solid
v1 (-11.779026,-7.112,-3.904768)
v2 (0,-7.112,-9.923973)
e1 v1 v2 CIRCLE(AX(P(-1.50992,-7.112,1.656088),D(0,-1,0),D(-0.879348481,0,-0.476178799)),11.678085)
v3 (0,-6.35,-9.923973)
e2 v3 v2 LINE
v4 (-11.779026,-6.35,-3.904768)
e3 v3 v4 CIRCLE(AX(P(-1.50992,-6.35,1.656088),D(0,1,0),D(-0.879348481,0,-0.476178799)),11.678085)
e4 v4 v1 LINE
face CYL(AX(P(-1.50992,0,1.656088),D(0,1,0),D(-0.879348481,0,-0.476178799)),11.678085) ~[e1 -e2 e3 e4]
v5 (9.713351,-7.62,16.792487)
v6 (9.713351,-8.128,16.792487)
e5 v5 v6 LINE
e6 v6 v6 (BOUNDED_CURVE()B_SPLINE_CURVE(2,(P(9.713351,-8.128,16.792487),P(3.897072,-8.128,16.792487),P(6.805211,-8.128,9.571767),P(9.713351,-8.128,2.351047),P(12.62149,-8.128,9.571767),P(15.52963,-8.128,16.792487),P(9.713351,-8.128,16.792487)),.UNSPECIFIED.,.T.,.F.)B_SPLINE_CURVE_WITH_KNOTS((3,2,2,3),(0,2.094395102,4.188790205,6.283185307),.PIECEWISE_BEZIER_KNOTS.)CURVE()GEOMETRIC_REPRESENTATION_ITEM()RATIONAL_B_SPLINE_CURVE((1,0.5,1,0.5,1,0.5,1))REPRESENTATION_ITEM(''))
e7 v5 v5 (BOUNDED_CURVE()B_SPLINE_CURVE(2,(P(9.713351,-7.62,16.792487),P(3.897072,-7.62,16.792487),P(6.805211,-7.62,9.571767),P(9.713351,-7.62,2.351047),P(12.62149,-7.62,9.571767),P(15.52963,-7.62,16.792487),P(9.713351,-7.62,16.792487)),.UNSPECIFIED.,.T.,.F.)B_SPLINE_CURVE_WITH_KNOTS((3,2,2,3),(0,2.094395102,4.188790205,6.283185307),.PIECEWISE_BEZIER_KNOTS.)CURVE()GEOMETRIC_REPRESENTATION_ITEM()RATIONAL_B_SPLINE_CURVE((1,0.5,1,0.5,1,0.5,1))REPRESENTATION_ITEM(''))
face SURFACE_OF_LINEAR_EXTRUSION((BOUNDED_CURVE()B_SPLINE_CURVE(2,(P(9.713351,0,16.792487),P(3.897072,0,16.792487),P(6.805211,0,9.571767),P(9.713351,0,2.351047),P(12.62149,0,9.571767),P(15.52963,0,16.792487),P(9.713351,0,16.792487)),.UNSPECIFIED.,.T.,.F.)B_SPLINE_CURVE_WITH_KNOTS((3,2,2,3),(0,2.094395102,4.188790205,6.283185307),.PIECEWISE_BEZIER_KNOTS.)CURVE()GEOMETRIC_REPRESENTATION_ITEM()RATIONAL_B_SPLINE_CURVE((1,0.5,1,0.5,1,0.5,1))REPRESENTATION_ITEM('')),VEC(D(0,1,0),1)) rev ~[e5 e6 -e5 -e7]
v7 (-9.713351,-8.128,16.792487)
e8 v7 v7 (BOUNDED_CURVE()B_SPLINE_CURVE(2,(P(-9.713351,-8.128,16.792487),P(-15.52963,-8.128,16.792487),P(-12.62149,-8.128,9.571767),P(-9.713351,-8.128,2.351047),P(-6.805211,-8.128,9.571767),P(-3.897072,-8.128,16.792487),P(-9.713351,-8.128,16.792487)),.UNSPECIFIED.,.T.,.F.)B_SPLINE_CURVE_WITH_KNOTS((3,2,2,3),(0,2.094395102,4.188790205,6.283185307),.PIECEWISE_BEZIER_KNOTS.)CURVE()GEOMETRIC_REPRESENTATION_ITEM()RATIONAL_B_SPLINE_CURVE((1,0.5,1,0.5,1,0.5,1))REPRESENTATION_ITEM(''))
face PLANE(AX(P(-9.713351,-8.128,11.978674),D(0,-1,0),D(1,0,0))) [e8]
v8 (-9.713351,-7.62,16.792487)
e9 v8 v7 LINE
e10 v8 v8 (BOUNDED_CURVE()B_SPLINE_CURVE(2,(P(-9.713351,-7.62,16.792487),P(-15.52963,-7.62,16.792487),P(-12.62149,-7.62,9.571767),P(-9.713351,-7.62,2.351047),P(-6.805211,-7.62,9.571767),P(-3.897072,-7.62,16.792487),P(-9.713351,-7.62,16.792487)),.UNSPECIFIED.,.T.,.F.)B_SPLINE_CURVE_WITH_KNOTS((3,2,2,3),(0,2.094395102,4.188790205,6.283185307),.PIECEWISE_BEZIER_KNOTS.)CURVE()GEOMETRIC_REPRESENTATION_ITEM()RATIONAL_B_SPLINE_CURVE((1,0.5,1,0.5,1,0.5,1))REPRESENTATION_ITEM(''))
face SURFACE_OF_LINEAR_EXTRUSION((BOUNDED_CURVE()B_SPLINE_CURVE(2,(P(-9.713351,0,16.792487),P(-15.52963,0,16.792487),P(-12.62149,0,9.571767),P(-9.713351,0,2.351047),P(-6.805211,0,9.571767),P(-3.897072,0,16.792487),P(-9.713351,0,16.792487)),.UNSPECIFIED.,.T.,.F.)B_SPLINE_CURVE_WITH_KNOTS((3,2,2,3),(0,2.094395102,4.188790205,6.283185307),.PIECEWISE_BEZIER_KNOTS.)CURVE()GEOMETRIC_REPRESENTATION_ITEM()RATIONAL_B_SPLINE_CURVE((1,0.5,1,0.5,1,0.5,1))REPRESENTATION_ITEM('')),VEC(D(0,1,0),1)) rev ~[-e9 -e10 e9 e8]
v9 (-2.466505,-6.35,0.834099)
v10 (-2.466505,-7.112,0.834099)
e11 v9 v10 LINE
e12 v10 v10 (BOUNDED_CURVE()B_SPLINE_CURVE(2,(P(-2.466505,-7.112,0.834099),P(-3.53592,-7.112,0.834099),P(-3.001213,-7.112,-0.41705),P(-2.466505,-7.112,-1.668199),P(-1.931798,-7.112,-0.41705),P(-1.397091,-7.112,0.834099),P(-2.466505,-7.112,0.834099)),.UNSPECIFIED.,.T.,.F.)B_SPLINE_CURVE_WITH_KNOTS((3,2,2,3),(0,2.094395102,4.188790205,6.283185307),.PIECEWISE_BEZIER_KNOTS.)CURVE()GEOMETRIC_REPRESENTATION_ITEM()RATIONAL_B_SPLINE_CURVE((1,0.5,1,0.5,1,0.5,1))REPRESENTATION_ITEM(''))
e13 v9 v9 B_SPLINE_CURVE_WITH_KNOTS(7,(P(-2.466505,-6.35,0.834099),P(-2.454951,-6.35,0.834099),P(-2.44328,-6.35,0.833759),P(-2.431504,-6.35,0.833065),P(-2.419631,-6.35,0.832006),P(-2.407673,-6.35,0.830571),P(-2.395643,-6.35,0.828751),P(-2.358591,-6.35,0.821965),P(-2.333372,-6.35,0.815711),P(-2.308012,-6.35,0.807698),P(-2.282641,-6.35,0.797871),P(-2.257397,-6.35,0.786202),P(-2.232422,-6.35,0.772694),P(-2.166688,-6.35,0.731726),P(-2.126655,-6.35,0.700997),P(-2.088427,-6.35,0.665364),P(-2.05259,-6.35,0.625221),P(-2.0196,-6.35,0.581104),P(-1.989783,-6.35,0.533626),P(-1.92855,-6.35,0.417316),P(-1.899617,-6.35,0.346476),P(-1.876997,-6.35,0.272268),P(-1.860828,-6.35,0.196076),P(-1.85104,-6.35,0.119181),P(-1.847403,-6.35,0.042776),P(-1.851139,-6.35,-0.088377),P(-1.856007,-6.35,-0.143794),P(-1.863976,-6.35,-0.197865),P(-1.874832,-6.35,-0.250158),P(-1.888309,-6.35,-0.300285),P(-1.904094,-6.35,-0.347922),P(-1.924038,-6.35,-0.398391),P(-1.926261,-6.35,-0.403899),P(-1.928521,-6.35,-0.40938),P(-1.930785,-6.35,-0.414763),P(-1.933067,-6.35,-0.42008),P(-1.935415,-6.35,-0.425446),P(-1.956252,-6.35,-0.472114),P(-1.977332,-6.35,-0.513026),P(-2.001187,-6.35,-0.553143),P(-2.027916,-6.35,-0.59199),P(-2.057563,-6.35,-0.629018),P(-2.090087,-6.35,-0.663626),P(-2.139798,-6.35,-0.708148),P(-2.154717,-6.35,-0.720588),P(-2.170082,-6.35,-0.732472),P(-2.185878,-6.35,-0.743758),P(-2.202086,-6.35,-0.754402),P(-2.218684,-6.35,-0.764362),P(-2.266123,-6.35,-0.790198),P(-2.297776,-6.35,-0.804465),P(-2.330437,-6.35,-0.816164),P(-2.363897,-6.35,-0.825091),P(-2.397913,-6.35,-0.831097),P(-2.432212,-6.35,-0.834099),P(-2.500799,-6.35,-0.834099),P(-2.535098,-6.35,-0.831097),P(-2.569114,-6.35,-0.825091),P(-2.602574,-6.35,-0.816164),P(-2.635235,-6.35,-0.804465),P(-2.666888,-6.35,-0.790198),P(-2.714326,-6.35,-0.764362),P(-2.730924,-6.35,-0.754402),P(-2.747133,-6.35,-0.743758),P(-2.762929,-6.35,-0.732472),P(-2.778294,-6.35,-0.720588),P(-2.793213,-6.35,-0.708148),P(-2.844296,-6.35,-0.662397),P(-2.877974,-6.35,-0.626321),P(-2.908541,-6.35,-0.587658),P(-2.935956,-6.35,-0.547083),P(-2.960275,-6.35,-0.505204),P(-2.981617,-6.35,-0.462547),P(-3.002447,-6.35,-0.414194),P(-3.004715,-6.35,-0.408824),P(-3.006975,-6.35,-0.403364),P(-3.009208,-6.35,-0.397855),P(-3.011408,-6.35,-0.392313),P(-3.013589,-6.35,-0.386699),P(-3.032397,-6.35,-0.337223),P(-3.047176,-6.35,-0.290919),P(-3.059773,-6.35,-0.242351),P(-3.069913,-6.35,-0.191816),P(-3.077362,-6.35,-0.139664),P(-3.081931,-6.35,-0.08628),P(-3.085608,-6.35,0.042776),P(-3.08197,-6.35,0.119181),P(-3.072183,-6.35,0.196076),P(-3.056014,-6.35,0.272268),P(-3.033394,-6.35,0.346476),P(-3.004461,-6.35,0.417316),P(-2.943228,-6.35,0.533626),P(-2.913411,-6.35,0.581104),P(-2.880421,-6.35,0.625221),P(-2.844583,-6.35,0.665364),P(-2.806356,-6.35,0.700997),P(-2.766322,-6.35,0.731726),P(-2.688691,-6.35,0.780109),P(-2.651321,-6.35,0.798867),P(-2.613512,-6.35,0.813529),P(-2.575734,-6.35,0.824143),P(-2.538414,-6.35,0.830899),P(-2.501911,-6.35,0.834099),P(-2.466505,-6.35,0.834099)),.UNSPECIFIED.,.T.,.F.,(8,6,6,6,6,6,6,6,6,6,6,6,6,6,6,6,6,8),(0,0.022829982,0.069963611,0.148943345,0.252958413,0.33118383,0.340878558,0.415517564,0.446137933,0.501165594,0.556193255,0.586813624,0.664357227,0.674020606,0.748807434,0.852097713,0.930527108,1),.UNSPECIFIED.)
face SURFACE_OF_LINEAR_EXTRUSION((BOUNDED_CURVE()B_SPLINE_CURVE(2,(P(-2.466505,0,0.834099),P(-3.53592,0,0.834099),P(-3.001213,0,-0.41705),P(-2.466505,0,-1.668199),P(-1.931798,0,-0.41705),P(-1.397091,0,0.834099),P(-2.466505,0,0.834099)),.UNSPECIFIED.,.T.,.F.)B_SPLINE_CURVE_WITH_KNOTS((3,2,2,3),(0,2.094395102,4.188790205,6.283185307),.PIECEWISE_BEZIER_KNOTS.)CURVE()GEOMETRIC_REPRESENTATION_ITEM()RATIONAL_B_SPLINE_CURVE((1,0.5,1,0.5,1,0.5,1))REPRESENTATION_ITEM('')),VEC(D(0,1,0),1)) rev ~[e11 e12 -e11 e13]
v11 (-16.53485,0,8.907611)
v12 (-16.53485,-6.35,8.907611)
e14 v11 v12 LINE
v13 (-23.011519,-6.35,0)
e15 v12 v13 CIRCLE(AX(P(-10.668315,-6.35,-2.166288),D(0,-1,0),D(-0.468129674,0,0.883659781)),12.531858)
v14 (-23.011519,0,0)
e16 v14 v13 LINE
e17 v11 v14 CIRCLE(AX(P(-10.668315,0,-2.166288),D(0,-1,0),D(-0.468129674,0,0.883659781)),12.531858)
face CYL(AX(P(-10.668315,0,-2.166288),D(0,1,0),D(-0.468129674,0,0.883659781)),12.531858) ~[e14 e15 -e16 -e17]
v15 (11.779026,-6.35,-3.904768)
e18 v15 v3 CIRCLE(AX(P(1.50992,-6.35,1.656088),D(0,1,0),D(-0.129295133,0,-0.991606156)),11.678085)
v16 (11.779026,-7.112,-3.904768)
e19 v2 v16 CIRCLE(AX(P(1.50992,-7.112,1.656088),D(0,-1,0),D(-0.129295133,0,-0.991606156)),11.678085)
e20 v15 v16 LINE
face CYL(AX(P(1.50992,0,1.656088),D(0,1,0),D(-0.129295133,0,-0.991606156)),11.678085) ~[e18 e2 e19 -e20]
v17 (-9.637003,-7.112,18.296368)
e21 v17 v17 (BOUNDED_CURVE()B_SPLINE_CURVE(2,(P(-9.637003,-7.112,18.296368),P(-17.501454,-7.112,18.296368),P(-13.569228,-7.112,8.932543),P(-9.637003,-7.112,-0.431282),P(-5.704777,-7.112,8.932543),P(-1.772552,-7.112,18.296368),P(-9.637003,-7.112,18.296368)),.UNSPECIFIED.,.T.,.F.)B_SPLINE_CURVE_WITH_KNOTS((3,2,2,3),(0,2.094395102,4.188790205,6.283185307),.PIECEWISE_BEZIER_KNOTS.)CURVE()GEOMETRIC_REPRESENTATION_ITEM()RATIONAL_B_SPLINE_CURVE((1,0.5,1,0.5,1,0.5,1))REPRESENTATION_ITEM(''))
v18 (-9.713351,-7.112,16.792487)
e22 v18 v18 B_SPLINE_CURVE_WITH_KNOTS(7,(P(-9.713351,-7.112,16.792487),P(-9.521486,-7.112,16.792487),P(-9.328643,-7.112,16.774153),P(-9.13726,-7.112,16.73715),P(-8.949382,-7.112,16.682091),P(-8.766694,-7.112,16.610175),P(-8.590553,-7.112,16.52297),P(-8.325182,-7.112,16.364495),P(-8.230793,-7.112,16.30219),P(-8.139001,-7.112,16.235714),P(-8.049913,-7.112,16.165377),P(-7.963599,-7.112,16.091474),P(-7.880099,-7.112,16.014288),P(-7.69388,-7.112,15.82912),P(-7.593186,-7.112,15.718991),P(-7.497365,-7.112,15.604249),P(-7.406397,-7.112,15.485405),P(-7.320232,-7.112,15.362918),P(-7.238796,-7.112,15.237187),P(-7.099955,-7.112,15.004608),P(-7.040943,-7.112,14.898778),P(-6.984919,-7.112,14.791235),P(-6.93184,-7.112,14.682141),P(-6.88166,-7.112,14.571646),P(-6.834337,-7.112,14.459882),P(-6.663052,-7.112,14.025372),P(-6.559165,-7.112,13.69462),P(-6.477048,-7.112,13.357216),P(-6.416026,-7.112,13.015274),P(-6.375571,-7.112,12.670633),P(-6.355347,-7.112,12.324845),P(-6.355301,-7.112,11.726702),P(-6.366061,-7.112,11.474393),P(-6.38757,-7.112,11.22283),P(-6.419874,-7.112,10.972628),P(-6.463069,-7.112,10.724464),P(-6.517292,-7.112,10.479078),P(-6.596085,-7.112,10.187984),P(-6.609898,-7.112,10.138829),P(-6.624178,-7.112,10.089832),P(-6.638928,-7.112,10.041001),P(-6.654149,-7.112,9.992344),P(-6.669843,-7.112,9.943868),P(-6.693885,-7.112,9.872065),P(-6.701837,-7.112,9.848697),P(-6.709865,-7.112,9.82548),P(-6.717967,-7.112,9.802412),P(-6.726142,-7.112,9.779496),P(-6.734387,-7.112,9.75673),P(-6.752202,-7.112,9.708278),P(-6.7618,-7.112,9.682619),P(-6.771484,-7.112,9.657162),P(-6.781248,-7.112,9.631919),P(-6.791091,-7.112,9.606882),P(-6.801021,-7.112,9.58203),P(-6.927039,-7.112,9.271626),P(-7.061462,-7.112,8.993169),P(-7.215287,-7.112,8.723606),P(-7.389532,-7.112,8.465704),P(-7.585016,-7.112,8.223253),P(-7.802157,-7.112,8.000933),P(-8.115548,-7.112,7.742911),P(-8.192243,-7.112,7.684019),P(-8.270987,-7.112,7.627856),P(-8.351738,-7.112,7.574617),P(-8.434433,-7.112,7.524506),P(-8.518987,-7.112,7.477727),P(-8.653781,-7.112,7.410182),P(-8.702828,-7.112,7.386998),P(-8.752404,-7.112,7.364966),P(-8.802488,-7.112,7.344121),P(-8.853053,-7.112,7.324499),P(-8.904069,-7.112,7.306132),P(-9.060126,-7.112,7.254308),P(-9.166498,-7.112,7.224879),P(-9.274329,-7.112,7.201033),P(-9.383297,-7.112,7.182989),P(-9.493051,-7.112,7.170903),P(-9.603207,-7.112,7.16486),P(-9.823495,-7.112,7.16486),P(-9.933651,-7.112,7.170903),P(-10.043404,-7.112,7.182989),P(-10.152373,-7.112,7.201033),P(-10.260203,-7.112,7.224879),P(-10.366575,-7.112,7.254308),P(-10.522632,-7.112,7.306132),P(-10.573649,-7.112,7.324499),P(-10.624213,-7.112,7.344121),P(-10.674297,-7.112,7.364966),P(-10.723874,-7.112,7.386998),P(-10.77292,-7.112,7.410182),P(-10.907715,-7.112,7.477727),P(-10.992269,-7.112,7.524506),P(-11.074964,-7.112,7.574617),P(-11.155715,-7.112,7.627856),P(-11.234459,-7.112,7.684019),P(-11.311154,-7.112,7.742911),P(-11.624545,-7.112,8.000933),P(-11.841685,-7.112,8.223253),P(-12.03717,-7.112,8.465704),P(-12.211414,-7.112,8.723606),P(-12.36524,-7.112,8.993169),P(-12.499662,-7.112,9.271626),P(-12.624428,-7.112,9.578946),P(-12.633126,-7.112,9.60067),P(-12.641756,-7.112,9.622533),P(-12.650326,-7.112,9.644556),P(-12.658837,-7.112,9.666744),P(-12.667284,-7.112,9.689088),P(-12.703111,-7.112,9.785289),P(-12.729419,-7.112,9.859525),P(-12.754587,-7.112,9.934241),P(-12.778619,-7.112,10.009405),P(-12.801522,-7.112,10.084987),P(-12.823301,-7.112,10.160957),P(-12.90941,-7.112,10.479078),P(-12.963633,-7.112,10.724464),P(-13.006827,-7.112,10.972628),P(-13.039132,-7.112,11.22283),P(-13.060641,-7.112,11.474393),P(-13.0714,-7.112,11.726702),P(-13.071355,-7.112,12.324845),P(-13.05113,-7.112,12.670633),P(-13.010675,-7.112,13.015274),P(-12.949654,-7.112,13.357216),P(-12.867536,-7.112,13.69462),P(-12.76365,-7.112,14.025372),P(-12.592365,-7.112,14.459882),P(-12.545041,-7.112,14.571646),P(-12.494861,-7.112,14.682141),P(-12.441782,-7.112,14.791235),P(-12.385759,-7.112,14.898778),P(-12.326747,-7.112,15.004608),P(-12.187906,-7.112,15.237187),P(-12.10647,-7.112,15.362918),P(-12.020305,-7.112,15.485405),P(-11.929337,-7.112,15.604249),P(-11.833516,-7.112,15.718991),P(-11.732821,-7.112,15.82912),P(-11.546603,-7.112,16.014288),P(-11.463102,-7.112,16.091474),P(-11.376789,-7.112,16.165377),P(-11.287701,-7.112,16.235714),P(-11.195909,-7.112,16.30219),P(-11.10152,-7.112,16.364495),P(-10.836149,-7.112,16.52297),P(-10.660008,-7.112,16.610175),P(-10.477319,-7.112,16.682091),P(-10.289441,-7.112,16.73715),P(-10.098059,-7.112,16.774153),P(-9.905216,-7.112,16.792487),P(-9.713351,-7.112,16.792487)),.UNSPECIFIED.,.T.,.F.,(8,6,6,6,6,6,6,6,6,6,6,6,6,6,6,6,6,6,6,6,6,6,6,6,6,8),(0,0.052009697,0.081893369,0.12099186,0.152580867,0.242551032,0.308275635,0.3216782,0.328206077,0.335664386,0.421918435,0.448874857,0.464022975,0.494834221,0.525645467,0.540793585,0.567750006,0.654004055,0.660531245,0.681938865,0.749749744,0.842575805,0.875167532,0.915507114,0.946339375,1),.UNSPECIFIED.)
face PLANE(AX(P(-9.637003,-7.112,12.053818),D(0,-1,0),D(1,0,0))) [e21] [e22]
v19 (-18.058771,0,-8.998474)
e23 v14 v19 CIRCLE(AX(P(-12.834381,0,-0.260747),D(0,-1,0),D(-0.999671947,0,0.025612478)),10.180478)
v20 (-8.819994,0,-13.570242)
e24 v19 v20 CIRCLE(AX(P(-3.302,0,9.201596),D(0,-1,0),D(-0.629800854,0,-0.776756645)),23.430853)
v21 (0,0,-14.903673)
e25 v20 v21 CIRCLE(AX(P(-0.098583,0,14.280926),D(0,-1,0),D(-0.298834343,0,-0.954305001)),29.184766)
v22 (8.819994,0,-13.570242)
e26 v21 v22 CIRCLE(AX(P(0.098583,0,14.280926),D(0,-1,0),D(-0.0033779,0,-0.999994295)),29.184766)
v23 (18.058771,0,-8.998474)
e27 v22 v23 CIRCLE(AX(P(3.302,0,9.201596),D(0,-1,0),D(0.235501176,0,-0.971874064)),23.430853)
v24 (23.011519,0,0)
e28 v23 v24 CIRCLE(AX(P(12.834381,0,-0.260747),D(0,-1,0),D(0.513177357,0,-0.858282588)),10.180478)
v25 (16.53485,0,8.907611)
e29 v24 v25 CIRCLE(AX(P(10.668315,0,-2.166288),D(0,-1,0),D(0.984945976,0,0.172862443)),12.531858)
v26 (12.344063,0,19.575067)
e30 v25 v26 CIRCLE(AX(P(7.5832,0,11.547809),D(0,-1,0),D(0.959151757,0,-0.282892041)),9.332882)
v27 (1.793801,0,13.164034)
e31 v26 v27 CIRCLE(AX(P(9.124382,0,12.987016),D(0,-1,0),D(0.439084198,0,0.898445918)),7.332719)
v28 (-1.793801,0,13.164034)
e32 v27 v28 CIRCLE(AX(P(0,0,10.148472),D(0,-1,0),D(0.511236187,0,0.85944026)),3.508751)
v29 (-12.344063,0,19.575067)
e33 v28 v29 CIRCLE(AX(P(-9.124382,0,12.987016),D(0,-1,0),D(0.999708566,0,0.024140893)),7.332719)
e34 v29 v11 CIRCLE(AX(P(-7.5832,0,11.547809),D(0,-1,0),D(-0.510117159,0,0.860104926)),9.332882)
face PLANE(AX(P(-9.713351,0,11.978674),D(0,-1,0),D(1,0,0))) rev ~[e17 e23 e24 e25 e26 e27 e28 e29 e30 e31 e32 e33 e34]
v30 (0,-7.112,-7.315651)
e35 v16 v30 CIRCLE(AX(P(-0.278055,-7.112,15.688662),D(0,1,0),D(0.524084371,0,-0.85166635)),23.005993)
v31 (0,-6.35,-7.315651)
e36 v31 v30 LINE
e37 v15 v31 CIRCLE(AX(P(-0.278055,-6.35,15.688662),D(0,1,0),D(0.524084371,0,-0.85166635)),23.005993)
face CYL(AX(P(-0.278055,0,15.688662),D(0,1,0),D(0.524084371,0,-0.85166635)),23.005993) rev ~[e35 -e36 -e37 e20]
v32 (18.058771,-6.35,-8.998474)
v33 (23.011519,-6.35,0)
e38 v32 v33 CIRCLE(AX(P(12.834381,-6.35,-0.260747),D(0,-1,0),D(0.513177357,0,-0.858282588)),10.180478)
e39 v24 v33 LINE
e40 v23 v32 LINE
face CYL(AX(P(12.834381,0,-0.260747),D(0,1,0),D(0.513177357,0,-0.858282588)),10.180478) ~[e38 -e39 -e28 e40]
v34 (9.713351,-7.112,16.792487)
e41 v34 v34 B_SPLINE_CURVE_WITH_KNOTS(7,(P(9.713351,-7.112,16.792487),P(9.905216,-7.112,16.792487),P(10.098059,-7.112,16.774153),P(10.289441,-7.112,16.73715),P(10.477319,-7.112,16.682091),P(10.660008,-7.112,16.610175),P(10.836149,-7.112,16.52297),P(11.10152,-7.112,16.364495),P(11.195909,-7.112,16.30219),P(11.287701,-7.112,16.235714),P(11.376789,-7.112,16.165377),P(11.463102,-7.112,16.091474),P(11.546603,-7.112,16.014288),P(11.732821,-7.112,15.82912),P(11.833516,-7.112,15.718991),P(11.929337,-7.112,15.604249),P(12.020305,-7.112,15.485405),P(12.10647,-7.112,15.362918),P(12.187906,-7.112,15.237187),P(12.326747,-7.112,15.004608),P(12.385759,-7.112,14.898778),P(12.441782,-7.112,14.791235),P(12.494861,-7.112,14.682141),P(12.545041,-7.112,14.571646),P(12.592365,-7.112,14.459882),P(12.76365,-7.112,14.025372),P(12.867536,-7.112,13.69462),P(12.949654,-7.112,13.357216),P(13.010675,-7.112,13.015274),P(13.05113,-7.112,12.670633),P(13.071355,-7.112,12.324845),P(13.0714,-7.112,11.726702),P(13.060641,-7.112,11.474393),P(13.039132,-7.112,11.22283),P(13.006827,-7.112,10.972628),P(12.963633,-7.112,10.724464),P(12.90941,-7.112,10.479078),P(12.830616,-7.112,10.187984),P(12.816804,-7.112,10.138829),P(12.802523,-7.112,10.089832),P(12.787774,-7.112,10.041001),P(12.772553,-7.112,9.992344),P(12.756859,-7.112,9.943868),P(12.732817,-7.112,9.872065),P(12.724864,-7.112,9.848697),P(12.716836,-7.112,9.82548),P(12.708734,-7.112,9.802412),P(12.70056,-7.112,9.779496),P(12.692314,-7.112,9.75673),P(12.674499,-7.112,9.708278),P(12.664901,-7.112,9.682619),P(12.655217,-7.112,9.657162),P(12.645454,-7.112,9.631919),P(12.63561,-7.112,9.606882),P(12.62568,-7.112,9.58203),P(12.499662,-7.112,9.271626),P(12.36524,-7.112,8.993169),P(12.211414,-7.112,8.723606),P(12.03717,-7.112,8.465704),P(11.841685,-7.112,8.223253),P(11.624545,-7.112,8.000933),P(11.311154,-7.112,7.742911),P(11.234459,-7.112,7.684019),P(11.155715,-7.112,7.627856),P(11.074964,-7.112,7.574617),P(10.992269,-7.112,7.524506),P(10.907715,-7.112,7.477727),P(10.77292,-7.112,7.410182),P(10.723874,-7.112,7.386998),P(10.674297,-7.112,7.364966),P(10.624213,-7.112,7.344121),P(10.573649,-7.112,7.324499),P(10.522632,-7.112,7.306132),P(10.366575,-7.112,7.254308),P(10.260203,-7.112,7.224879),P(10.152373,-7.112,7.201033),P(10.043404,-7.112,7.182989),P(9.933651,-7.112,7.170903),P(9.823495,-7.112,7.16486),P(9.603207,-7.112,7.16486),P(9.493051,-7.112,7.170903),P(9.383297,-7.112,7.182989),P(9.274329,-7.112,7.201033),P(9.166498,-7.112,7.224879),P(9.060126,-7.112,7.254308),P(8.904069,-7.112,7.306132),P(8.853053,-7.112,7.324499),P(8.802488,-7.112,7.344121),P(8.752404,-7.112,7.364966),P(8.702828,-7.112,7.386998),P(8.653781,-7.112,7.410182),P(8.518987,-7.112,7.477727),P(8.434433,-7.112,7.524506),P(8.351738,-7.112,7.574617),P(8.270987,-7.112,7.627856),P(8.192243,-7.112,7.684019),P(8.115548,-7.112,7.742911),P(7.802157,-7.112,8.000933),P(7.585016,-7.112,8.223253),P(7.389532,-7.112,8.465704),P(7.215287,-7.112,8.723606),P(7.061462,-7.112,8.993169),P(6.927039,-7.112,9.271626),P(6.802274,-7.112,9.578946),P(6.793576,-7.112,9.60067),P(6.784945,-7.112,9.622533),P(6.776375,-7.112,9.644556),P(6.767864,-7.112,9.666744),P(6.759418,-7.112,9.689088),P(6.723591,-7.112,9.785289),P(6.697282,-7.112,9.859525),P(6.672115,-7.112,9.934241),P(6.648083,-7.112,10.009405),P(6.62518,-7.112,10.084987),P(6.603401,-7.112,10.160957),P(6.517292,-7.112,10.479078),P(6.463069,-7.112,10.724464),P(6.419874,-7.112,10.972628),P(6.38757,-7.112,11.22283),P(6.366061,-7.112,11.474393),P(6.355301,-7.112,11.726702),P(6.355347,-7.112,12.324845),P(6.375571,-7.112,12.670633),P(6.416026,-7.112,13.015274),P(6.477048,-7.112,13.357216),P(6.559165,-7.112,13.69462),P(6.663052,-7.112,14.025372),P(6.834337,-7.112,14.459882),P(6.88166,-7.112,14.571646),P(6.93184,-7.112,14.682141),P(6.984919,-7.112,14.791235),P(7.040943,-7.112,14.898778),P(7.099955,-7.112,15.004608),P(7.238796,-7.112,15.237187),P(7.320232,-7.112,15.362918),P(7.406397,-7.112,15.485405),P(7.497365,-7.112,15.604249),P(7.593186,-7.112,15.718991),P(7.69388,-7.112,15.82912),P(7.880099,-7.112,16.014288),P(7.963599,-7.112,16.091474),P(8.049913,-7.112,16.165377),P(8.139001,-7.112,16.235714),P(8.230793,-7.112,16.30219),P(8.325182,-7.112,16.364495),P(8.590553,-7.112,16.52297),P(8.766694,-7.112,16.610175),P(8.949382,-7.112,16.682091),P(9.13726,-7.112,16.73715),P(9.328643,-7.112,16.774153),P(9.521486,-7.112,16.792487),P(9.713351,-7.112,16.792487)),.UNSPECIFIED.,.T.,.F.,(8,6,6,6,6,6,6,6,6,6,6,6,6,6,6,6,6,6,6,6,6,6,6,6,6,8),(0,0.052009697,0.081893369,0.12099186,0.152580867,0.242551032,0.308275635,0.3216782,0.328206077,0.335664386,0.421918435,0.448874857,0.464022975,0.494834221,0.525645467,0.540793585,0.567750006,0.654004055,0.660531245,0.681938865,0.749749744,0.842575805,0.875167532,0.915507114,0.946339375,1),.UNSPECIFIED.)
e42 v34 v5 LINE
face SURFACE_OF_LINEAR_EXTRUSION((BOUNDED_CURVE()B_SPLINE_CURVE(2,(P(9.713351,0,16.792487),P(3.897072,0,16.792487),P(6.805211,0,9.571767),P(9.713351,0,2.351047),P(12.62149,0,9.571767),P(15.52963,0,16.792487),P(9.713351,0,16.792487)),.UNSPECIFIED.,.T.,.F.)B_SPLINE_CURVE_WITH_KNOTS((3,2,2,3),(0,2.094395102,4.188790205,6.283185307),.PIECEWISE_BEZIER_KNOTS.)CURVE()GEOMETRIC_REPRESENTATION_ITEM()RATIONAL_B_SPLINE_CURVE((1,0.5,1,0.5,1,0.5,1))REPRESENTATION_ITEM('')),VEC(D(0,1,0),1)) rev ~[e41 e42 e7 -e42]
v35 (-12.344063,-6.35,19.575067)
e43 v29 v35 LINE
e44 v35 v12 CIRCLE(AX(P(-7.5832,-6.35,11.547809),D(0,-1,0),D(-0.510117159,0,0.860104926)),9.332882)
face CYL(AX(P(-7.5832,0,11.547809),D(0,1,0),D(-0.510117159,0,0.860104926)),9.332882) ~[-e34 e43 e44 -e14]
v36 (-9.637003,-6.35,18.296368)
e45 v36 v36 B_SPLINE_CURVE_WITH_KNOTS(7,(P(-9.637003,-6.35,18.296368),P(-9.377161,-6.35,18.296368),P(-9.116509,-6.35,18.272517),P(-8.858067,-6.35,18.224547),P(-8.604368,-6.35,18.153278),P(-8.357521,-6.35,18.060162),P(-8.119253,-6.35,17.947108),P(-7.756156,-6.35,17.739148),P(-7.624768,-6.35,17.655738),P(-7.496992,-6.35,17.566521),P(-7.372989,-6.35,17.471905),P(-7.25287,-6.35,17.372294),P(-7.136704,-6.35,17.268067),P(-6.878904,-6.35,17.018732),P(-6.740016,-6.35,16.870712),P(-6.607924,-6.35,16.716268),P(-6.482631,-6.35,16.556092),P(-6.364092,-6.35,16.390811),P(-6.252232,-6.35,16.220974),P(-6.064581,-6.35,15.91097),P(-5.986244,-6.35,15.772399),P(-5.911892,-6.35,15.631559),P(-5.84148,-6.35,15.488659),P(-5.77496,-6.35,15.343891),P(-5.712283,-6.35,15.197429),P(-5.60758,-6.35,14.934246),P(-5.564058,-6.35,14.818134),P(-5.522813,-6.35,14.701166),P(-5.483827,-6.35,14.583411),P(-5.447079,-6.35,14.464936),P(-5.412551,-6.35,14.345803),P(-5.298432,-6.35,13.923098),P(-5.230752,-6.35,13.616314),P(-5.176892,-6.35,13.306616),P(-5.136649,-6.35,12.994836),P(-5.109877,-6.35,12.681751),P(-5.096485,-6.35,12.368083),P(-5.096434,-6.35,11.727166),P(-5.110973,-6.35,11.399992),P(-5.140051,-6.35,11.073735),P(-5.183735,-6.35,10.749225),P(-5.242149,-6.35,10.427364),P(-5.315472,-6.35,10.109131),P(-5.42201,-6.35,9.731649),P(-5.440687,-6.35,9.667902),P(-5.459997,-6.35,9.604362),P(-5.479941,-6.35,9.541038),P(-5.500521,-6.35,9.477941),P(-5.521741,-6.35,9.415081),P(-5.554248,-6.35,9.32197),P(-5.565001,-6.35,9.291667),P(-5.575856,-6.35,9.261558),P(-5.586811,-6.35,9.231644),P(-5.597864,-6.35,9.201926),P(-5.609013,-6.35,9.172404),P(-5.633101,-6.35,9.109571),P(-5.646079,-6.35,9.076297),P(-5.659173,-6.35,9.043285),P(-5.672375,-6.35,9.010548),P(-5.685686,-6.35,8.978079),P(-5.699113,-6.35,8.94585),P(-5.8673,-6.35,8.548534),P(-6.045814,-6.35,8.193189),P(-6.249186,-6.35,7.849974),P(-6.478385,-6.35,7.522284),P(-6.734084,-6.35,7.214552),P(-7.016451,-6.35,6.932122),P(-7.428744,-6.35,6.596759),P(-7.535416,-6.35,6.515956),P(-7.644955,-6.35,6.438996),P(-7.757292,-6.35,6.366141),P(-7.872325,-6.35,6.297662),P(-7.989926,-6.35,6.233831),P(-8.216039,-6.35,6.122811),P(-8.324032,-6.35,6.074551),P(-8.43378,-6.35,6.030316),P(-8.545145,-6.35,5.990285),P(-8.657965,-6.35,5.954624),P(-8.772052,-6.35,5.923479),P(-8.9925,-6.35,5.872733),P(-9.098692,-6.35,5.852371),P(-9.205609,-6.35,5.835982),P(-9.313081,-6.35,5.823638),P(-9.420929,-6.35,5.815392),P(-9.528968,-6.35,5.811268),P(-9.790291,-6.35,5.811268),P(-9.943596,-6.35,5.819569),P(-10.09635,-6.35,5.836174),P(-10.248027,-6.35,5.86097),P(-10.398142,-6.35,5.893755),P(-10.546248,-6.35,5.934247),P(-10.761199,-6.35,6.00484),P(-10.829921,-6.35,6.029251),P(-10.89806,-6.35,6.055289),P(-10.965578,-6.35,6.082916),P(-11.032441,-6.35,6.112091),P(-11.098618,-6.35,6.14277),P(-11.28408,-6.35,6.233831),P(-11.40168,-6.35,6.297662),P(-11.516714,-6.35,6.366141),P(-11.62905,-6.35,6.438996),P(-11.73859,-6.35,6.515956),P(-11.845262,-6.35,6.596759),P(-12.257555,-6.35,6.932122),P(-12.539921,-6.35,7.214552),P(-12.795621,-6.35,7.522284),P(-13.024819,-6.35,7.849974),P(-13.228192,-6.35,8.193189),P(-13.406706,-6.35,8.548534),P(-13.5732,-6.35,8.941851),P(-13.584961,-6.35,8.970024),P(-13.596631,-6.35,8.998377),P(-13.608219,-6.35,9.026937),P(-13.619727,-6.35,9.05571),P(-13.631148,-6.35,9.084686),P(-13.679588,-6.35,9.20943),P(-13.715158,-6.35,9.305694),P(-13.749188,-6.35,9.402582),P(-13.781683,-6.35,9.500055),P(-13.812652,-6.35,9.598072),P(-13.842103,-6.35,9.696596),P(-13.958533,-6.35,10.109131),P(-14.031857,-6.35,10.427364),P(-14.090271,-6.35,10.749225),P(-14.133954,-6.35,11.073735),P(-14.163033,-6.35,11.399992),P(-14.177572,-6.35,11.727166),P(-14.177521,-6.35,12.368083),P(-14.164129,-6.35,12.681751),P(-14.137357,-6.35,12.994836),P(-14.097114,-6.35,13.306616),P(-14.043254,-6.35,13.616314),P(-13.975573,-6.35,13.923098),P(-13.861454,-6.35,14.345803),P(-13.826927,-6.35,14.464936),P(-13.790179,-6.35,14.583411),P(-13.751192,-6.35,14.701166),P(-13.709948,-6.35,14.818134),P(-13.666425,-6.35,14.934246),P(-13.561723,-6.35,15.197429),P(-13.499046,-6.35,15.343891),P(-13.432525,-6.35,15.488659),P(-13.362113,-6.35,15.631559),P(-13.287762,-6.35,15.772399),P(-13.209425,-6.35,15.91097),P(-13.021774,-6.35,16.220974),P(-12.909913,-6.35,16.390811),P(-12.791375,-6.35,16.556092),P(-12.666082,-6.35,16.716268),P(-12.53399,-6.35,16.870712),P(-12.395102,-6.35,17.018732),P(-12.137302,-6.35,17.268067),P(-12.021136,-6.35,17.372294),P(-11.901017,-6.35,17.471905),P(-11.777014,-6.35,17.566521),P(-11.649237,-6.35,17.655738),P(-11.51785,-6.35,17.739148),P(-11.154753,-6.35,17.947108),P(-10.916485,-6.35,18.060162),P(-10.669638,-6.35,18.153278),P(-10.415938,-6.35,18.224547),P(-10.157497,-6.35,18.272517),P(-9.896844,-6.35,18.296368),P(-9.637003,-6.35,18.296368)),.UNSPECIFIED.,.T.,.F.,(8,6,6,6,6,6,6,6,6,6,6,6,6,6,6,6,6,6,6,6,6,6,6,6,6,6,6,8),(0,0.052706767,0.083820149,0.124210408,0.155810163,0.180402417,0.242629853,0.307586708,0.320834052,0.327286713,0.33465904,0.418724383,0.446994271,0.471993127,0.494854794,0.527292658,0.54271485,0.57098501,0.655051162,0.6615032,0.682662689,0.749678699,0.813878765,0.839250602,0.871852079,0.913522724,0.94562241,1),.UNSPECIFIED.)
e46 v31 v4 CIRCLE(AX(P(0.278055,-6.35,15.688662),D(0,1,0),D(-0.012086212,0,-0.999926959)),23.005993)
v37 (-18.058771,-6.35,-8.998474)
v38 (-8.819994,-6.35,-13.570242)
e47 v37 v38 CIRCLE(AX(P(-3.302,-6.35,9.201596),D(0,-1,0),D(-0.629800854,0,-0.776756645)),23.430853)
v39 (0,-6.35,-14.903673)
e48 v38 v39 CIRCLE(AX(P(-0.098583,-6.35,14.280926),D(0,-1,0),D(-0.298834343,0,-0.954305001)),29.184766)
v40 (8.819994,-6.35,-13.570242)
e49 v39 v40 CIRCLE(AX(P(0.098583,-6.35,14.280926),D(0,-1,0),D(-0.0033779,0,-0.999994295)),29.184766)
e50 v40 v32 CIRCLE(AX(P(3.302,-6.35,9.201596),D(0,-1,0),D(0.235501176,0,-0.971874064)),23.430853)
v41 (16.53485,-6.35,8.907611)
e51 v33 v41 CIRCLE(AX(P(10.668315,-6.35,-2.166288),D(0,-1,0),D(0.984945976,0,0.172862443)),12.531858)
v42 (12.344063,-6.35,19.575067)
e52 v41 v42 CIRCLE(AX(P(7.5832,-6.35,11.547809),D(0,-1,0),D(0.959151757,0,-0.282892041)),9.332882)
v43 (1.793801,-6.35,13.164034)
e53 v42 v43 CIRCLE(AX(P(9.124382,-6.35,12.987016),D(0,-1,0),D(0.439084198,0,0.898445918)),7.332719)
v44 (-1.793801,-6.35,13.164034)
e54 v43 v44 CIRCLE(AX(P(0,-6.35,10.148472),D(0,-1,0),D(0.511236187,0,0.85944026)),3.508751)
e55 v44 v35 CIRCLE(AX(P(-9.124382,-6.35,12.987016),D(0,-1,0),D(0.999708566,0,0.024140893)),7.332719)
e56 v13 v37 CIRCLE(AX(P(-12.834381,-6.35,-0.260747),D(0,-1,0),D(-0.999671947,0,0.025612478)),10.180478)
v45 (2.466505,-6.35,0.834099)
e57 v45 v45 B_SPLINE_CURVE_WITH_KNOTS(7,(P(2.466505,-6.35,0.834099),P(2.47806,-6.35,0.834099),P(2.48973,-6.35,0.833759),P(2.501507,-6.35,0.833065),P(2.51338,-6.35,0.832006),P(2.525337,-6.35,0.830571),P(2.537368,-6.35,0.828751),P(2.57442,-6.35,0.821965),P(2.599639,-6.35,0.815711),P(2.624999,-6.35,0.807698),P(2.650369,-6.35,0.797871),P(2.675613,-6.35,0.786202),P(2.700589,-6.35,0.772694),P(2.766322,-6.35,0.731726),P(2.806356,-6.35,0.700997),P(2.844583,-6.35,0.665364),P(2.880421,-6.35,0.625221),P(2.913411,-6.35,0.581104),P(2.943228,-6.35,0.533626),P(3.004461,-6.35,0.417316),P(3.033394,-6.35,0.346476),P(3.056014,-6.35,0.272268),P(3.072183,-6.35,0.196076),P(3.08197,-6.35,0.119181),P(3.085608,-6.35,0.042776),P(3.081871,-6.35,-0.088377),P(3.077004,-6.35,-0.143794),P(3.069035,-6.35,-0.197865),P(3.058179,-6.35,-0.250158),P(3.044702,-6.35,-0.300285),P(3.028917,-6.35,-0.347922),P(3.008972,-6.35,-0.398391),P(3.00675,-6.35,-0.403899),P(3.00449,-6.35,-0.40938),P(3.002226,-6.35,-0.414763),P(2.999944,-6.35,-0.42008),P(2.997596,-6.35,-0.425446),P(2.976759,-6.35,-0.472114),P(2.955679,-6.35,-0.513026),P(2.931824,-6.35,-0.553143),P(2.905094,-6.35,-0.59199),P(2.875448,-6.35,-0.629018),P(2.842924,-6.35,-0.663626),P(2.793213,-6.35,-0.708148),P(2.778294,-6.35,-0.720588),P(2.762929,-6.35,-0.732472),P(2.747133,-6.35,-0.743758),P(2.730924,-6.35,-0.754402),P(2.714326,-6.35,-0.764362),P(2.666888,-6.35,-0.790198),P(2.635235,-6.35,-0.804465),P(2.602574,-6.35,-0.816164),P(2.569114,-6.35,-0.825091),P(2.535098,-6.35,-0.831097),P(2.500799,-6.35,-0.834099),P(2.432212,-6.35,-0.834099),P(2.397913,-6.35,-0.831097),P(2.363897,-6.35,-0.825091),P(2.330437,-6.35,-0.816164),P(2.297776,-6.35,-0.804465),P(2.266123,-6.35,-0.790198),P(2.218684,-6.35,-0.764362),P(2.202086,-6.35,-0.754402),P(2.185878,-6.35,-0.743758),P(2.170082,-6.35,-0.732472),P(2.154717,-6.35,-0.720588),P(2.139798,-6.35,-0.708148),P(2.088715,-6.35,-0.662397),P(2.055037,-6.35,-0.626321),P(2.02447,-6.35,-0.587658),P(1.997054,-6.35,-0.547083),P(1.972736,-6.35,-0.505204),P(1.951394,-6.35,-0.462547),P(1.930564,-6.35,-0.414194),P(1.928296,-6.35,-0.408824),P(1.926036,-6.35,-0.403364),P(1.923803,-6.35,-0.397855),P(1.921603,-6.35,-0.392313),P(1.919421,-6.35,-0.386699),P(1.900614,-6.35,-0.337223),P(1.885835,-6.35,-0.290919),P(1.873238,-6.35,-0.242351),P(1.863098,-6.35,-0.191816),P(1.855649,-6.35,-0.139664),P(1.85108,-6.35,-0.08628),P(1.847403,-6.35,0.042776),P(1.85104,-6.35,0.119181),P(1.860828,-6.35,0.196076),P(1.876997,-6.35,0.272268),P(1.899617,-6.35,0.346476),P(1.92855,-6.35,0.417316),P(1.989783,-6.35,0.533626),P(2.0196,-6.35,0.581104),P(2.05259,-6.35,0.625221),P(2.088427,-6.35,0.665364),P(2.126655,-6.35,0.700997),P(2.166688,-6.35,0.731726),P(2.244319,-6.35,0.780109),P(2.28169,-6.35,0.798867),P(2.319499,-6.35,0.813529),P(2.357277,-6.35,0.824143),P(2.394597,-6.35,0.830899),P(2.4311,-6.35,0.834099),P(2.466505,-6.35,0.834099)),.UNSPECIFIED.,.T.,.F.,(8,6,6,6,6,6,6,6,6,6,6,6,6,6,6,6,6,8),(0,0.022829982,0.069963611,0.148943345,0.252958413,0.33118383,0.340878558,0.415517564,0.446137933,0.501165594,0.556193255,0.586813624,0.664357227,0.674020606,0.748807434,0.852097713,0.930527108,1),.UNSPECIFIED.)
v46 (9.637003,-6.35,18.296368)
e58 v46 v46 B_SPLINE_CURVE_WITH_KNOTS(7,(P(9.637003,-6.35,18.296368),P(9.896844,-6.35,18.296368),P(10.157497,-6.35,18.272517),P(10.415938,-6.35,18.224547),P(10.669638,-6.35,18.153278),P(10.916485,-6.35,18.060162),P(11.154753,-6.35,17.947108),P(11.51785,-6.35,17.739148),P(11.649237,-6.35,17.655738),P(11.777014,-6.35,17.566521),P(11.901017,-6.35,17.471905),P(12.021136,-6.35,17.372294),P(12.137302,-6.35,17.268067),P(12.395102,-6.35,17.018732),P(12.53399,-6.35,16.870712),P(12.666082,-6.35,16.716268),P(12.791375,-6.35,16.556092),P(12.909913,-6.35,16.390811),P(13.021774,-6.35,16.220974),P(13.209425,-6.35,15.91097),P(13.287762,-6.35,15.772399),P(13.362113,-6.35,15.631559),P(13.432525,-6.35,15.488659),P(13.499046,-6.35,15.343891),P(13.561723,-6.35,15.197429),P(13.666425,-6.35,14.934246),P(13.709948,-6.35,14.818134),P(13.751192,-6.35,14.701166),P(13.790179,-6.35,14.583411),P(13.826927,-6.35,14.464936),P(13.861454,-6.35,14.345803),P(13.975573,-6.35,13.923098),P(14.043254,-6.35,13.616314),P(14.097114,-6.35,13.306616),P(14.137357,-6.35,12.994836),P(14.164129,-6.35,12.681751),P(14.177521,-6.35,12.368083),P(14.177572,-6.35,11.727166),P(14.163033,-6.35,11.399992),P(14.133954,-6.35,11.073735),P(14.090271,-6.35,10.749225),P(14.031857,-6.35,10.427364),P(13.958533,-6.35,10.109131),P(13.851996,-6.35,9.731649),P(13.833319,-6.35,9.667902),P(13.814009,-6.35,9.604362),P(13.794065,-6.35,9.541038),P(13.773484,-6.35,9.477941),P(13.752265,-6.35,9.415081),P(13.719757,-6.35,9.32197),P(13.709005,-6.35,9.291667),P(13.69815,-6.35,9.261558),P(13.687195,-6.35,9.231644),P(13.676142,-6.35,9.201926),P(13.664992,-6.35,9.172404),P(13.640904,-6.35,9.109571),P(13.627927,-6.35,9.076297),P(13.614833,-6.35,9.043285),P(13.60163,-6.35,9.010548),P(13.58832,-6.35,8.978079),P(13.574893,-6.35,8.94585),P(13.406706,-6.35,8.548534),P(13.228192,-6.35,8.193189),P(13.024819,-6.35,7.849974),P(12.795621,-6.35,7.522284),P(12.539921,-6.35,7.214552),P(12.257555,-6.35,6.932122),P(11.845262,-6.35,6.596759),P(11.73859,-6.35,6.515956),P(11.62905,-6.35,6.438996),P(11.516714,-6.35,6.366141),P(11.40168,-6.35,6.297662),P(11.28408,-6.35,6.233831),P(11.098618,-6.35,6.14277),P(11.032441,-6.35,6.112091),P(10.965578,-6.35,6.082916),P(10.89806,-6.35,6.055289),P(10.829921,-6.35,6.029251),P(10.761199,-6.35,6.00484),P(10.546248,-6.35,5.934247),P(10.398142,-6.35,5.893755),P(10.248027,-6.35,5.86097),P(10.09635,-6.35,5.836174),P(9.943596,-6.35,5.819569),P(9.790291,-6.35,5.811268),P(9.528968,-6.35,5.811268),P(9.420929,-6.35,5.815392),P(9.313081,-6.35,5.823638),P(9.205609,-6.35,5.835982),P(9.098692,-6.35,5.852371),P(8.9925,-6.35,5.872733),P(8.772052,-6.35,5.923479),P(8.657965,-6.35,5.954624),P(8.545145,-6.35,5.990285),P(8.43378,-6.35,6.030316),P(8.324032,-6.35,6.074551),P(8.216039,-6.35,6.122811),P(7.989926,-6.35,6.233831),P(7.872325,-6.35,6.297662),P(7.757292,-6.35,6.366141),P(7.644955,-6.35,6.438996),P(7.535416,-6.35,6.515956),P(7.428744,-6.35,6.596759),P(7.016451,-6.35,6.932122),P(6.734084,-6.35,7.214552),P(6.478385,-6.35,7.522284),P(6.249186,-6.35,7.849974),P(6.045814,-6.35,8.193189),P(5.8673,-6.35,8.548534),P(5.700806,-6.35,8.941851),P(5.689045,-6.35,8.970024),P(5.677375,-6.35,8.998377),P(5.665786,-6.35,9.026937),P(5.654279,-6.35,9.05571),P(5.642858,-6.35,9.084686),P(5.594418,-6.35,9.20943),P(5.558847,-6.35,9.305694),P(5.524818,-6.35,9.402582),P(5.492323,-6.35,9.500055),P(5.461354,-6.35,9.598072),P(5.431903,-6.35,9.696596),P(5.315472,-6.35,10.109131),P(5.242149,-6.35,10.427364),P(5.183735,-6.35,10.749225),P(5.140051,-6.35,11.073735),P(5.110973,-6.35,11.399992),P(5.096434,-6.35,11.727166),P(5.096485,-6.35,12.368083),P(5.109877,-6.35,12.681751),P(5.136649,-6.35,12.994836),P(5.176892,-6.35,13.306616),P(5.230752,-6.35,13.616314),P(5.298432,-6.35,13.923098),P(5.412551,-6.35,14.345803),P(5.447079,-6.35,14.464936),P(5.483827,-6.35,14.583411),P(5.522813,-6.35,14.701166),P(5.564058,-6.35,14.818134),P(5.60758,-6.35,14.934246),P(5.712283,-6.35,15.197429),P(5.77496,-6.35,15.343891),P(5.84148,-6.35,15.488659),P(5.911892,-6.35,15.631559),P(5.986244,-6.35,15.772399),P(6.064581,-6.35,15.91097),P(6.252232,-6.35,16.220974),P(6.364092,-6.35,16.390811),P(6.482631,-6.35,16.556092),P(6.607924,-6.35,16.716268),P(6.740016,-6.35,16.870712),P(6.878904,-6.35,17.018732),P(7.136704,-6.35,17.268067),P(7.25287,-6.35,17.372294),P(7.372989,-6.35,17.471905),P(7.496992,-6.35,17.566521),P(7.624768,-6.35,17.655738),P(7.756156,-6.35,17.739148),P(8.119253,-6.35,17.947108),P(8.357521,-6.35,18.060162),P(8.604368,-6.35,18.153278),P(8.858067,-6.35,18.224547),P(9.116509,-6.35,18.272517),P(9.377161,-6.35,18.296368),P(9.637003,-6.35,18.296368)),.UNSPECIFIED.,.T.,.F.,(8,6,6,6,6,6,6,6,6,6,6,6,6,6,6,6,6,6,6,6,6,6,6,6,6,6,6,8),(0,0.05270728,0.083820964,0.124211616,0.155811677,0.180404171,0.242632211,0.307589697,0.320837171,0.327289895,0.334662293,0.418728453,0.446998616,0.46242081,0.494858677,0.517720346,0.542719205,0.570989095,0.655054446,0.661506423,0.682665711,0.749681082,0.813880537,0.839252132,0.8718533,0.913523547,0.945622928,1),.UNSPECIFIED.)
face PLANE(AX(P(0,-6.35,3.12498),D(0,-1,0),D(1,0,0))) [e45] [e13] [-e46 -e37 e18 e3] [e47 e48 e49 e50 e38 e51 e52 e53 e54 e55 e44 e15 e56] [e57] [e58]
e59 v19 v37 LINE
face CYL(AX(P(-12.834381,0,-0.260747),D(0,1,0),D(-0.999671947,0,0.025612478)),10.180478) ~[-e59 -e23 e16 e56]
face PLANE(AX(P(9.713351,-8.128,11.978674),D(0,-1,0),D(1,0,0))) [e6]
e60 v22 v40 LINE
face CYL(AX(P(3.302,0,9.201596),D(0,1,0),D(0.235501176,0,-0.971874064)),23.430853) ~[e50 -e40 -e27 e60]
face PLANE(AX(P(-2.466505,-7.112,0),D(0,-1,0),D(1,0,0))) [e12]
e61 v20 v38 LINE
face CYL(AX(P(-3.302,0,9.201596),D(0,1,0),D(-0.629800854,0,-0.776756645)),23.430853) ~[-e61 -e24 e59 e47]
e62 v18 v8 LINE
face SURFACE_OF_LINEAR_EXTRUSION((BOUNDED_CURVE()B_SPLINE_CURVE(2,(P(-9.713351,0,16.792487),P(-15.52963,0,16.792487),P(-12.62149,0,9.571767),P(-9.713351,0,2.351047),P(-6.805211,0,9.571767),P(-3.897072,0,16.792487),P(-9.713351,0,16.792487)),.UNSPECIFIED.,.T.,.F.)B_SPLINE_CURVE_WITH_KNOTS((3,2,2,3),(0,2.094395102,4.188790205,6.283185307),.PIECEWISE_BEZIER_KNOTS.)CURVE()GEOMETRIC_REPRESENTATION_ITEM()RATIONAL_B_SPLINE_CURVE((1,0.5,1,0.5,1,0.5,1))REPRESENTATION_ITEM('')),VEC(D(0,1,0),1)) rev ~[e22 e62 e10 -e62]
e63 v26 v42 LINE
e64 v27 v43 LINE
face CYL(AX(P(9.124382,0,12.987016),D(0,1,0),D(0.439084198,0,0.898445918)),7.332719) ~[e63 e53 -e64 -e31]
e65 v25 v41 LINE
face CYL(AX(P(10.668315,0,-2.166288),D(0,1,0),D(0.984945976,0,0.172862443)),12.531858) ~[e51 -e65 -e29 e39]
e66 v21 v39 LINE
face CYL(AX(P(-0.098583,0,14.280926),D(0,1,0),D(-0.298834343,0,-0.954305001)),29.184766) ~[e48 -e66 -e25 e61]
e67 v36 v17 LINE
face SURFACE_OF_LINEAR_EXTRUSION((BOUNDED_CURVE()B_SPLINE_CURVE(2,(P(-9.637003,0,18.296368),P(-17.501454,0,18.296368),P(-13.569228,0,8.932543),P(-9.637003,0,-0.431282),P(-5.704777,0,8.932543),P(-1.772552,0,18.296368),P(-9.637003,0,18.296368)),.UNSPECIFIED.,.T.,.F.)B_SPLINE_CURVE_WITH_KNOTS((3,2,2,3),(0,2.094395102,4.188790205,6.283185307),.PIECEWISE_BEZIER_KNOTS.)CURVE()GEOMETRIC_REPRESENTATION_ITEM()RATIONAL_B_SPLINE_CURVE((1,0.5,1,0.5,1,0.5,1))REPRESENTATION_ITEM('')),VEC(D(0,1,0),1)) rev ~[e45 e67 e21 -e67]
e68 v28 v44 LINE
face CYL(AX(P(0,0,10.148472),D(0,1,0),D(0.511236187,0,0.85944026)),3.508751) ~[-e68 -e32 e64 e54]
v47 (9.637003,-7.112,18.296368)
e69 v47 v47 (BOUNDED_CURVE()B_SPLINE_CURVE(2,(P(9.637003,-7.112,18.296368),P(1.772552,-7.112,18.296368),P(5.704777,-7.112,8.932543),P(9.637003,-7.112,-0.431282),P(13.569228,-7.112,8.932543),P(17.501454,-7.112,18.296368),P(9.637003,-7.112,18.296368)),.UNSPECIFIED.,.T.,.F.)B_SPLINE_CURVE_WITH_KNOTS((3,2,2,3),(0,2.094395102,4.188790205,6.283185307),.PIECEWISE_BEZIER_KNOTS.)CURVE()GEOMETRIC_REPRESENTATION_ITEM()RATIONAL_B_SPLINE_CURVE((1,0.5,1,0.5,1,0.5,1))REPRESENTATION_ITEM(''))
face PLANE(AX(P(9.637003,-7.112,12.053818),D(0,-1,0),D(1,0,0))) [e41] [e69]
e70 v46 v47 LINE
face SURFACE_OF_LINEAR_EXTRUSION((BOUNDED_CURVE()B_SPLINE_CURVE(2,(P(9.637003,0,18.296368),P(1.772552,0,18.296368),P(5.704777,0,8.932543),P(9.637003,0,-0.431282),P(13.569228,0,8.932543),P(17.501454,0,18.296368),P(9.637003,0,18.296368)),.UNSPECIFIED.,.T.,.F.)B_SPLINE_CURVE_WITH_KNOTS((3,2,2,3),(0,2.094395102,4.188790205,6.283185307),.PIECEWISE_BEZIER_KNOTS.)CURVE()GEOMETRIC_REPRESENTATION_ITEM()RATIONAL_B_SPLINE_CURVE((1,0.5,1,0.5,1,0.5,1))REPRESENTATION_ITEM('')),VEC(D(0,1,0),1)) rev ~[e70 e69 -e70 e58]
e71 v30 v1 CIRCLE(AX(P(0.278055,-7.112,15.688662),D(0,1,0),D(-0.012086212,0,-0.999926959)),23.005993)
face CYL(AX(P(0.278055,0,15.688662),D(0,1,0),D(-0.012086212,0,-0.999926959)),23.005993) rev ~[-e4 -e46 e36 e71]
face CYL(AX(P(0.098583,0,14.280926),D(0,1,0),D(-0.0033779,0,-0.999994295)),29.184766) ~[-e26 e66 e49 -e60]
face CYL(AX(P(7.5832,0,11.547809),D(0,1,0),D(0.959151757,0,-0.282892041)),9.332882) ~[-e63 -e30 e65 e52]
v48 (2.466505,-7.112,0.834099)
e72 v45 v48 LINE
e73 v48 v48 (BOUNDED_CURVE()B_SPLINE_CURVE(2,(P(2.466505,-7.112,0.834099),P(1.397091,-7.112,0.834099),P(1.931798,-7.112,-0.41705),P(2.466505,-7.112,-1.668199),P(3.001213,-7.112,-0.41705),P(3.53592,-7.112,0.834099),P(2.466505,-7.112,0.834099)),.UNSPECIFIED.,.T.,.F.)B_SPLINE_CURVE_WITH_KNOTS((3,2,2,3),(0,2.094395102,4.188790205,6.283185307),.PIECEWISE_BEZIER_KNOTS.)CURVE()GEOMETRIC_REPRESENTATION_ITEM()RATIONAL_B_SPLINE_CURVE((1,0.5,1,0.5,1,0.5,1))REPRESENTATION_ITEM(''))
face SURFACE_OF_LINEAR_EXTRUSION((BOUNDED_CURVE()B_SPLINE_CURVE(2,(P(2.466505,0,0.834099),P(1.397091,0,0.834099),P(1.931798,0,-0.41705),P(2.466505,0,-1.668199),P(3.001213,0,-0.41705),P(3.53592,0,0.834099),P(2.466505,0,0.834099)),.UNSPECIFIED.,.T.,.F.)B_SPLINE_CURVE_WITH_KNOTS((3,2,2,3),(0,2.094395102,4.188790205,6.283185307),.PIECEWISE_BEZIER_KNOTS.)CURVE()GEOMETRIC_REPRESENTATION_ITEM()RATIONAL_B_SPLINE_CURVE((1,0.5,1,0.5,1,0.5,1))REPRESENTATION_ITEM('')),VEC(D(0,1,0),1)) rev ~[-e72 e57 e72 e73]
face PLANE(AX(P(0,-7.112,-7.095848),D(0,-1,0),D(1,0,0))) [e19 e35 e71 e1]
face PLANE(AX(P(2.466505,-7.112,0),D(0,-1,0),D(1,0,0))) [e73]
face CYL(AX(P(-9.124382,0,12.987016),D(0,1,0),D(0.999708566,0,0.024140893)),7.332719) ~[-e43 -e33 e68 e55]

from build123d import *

# Parameters (mm, degrees)
F1_DEPTH = 6.35
F3_DEPTH = 7.112
F5_DEPTH = 7.62
F6_DEPTH = 8.128


with BuildPart() as f1:
    # F0 (on Front) → F1 (new body)
    with BuildSketch(Plane.XZ):
        with BuildLine():
            ThreePointArc((1.7938007368, 13.1640341133), (0, 13.6572233107), (-1.7938007368, 13.1640341133))
            ThreePointArc((-1.7938007368, 13.1640341133), (-5.3164680529, 19.2534781495), (-12.3440632597, 19.5750668645))
            ThreePointArc((-12.3440632597, 19.5750668645), (-16.2697935097, 14.9604002099), (-16.5348500013, 8.9076114818))
            ThreePointArc((-16.5348500013, 8.9076114818), (-20.8041441001, 5.2034101528), (-23.0115186423, 0))
            ThreePointArc((-23.0115186423, 0), (-21.7531756781, -5.1696394341), (-18.0587712675, -8.9984741062))
            ThreePointArc((-18.0587712675, -8.9984741062), (-13.693909696, -11.7987149183), (-8.8199935853, -13.5702416301))
            ThreePointArc((-8.8199935853, -13.5702416301), (-4.4612425903, -14.5759230892), (0, -14.9036729708))
            ThreePointArc((0, -14.9036729708), (4.4612425903, -14.5759230892), (8.8199935853, -13.5702416301))
            ThreePointArc((8.8199935853, -13.5702416301), (13.693909696, -11.7987149183), (18.0587712675, -8.9984741062))
            ThreePointArc((18.0587712675, -8.9984741062), (21.7531756781, -5.1696394341), (23.0115186423, 0))
            ThreePointArc((23.0115186423, 0), (20.8041441001, 5.2034101528), (16.5348500013, 8.9076114818))
            ThreePointArc((16.5348500013, 8.9076114818), (16.2697935097, 14.9604002099), (12.3440632597, 19.5750668645))
            ThreePointArc((12.3440632597, 19.5750668645), (5.3164680529, 19.2534781495), (1.7938007368, 13.1640341133))
        make_face()
    extrude(amount=F1_DEPTH)

    # F2 (on Front) → F3 (join)
    with BuildSketch(Plane.XZ):
        with BuildLine():
            add(Edge.make_bspline(
                [(-9.6370028332, 18.2963684201), (-17.5014538427, 18.2963684201), (-13.569228338, 8.9325434528), (-9.6370028332, -0.4312815145), (-5.7047773284, 8.9325434528), (-1.7725518236, 18.2963684201), (-9.6370028332, 18.2963684201)],
                knots=[0, 0, 0, 2.0943951024, 2.0943951024, 4.1887902048, 4.1887902048, 6.2831853072, 6.2831853072, 6.2831853072], degree=2, weights=[1, 0.5, 1, 0.5, 1, 0.5, 1]))
        make_face()
        with BuildLine():
            add(Edge.make_bspline(
                [(-2.4665053934, 0.8340993081), (-3.5359200187, 0.8340993081), (-3.001212706, -0.4170496541), (-2.4665053934, -1.6681986162), (-1.9317980807, -0.4170496541), (-1.3970907681, 0.8340993081), (-2.4665053934, 0.8340993081)],
                knots=[0, 0, 0, 2.0943951024, 2.0943951024, 4.1887902048, 4.1887902048, 6.2831853072, 6.2831853072, 6.2831853072], degree=2, weights=[1, 0.5, 1, 0.5, 1, 0.5, 1]))
        make_face()
        with BuildLine():
            add(Edge.make_bspline(
                [(9.6370028332, 18.2963684201), (1.7725518236, 18.2963684201), (5.7047773284, 8.9325434528), (9.6370028332, -0.4312815145), (13.569228338, 8.9325434528), (17.5014538427, 18.2963684201), (9.6370028332, 18.2963684201)],
                knots=[0, 0, 0, 2.0943951024, 2.0943951024, 4.1887902048, 4.1887902048, 6.2831853072, 6.2831853072, 6.2831853072], degree=2, weights=[1, 0.5, 1, 0.5, 1, 0.5, 1]))
        make_face()
        with BuildLine():
            add(Edge.make_bspline(
                [(2.4665053934, 0.8340993081), (1.3970907681, 0.8340993081), (1.9317980807, -0.4170496541), (2.4665053934, -1.6681986162), (3.001212706, -0.4170496541), (3.5359200187, 0.8340993081), (2.4665053934, 0.8340993081)],
                knots=[0, 0, 0, 2.0943951024, 2.0943951024, 4.1887902048, 4.1887902048, 6.2831853072, 6.2831853072, 6.2831853072], degree=2, weights=[1, 0.5, 1, 0.5, 1, 0.5, 1]))
        make_face()
        with BuildLine():
            ThreePointArc((0, -7.315651048), (-6.1209625513, -6.4094895832), (-11.7790261284, -3.9047684986))
            ThreePointArc((-11.7790261284, -3.9047684986), (-6.8239147975, -8.7429084856), (0, -9.9239731207))
            ThreePointArc((0, -9.9239731207), (6.8239147975, -8.7429084856), (11.7790261284, -3.9047684986))
            ThreePointArc((11.7790261284, -3.9047684986), (6.1209625513, -6.4094895832), (0, -7.315651048))
        make_face()
    extrude(amount=F3_DEPTH)

    # F4 (on Front) → F5 (join)
    with BuildSketch(Plane.XZ):
        with BuildLine():
            add(Edge.make_bspline(
                [(-9.7133507952, 16.7924873531), (-15.5296298908, 16.7924873531), (-12.621490343, 9.5717669465), (-9.7133507952, 2.3510465398), (-6.8052112474, 9.5717669465), (-3.8970716996, 16.7924873531), (-9.7133507952, 16.7924873531)],
                knots=[0, 0, 0, 2.0943951024, 2.0943951024, 4.1887902048, 4.1887902048, 6.2831853072, 6.2831853072, 6.2831853072], degree=2, weights=[1, 0.5, 1, 0.5, 1, 0.5, 1]))
        make_face()
        with BuildLine():
            add(Edge.make_bspline(
                [(9.7133507952, 16.7924873531), (3.8970716996, 16.7924873531), (6.8052112474, 9.5717669465), (9.7133507952, 2.3510465398), (12.621490343, 9.5717669465), (15.5296298908, 16.7924873531), (9.7133507952, 16.7924873531)],
                knots=[0, 0, 0, 2.0943951024, 2.0943951024, 4.1887902048, 4.1887902048, 6.2831853072, 6.2831853072, 6.2831853072], degree=2, weights=[1, 0.5, 1, 0.5, 1, 0.5, 1]))
        make_face()
    extrude(amount=F5_DEPTH)

    # F4 (on Front) → F6 (join)
    with BuildSketch(Plane.XZ):
        with BuildLine():
            add(Edge.make_bspline(
                [(-9.7133507952, 16.7924873531), (-15.5296298908, 16.7924873531), (-12.621490343, 9.5717669465), (-9.7133507952, 2.3510465398), (-6.8052112474, 9.5717669465), (-3.8970716996, 16.7924873531), (-9.7133507952, 16.7924873531)],
                knots=[0, 0, 0, 2.0943951024, 2.0943951024, 4.1887902048, 4.1887902048, 6.2831853072, 6.2831853072, 6.2831853072], degree=2, weights=[1, 0.5, 1, 0.5, 1, 0.5, 1]))
        make_face()
        with BuildLine():
            add(Edge.make_bspline(
                [(9.7133507952, 16.7924873531), (3.8970716996, 16.7924873531), (6.8052112474, 9.5717669465), (9.7133507952, 2.3510465398), (12.621490343, 9.5717669465), (15.5296298908, 16.7924873531), (9.7133507952, 16.7924873531)],
                knots=[0, 0, 0, 2.0943951024, 2.0943951024, 4.1887902048, 4.1887902048, 6.2831853072, 6.2831853072, 6.2831853072], degree=2, weights=[1, 0.5, 1, 0.5, 1, 0.5, 1]))
        make_face()
    extrude(amount=F6_DEPTH)


solid = f1.part
